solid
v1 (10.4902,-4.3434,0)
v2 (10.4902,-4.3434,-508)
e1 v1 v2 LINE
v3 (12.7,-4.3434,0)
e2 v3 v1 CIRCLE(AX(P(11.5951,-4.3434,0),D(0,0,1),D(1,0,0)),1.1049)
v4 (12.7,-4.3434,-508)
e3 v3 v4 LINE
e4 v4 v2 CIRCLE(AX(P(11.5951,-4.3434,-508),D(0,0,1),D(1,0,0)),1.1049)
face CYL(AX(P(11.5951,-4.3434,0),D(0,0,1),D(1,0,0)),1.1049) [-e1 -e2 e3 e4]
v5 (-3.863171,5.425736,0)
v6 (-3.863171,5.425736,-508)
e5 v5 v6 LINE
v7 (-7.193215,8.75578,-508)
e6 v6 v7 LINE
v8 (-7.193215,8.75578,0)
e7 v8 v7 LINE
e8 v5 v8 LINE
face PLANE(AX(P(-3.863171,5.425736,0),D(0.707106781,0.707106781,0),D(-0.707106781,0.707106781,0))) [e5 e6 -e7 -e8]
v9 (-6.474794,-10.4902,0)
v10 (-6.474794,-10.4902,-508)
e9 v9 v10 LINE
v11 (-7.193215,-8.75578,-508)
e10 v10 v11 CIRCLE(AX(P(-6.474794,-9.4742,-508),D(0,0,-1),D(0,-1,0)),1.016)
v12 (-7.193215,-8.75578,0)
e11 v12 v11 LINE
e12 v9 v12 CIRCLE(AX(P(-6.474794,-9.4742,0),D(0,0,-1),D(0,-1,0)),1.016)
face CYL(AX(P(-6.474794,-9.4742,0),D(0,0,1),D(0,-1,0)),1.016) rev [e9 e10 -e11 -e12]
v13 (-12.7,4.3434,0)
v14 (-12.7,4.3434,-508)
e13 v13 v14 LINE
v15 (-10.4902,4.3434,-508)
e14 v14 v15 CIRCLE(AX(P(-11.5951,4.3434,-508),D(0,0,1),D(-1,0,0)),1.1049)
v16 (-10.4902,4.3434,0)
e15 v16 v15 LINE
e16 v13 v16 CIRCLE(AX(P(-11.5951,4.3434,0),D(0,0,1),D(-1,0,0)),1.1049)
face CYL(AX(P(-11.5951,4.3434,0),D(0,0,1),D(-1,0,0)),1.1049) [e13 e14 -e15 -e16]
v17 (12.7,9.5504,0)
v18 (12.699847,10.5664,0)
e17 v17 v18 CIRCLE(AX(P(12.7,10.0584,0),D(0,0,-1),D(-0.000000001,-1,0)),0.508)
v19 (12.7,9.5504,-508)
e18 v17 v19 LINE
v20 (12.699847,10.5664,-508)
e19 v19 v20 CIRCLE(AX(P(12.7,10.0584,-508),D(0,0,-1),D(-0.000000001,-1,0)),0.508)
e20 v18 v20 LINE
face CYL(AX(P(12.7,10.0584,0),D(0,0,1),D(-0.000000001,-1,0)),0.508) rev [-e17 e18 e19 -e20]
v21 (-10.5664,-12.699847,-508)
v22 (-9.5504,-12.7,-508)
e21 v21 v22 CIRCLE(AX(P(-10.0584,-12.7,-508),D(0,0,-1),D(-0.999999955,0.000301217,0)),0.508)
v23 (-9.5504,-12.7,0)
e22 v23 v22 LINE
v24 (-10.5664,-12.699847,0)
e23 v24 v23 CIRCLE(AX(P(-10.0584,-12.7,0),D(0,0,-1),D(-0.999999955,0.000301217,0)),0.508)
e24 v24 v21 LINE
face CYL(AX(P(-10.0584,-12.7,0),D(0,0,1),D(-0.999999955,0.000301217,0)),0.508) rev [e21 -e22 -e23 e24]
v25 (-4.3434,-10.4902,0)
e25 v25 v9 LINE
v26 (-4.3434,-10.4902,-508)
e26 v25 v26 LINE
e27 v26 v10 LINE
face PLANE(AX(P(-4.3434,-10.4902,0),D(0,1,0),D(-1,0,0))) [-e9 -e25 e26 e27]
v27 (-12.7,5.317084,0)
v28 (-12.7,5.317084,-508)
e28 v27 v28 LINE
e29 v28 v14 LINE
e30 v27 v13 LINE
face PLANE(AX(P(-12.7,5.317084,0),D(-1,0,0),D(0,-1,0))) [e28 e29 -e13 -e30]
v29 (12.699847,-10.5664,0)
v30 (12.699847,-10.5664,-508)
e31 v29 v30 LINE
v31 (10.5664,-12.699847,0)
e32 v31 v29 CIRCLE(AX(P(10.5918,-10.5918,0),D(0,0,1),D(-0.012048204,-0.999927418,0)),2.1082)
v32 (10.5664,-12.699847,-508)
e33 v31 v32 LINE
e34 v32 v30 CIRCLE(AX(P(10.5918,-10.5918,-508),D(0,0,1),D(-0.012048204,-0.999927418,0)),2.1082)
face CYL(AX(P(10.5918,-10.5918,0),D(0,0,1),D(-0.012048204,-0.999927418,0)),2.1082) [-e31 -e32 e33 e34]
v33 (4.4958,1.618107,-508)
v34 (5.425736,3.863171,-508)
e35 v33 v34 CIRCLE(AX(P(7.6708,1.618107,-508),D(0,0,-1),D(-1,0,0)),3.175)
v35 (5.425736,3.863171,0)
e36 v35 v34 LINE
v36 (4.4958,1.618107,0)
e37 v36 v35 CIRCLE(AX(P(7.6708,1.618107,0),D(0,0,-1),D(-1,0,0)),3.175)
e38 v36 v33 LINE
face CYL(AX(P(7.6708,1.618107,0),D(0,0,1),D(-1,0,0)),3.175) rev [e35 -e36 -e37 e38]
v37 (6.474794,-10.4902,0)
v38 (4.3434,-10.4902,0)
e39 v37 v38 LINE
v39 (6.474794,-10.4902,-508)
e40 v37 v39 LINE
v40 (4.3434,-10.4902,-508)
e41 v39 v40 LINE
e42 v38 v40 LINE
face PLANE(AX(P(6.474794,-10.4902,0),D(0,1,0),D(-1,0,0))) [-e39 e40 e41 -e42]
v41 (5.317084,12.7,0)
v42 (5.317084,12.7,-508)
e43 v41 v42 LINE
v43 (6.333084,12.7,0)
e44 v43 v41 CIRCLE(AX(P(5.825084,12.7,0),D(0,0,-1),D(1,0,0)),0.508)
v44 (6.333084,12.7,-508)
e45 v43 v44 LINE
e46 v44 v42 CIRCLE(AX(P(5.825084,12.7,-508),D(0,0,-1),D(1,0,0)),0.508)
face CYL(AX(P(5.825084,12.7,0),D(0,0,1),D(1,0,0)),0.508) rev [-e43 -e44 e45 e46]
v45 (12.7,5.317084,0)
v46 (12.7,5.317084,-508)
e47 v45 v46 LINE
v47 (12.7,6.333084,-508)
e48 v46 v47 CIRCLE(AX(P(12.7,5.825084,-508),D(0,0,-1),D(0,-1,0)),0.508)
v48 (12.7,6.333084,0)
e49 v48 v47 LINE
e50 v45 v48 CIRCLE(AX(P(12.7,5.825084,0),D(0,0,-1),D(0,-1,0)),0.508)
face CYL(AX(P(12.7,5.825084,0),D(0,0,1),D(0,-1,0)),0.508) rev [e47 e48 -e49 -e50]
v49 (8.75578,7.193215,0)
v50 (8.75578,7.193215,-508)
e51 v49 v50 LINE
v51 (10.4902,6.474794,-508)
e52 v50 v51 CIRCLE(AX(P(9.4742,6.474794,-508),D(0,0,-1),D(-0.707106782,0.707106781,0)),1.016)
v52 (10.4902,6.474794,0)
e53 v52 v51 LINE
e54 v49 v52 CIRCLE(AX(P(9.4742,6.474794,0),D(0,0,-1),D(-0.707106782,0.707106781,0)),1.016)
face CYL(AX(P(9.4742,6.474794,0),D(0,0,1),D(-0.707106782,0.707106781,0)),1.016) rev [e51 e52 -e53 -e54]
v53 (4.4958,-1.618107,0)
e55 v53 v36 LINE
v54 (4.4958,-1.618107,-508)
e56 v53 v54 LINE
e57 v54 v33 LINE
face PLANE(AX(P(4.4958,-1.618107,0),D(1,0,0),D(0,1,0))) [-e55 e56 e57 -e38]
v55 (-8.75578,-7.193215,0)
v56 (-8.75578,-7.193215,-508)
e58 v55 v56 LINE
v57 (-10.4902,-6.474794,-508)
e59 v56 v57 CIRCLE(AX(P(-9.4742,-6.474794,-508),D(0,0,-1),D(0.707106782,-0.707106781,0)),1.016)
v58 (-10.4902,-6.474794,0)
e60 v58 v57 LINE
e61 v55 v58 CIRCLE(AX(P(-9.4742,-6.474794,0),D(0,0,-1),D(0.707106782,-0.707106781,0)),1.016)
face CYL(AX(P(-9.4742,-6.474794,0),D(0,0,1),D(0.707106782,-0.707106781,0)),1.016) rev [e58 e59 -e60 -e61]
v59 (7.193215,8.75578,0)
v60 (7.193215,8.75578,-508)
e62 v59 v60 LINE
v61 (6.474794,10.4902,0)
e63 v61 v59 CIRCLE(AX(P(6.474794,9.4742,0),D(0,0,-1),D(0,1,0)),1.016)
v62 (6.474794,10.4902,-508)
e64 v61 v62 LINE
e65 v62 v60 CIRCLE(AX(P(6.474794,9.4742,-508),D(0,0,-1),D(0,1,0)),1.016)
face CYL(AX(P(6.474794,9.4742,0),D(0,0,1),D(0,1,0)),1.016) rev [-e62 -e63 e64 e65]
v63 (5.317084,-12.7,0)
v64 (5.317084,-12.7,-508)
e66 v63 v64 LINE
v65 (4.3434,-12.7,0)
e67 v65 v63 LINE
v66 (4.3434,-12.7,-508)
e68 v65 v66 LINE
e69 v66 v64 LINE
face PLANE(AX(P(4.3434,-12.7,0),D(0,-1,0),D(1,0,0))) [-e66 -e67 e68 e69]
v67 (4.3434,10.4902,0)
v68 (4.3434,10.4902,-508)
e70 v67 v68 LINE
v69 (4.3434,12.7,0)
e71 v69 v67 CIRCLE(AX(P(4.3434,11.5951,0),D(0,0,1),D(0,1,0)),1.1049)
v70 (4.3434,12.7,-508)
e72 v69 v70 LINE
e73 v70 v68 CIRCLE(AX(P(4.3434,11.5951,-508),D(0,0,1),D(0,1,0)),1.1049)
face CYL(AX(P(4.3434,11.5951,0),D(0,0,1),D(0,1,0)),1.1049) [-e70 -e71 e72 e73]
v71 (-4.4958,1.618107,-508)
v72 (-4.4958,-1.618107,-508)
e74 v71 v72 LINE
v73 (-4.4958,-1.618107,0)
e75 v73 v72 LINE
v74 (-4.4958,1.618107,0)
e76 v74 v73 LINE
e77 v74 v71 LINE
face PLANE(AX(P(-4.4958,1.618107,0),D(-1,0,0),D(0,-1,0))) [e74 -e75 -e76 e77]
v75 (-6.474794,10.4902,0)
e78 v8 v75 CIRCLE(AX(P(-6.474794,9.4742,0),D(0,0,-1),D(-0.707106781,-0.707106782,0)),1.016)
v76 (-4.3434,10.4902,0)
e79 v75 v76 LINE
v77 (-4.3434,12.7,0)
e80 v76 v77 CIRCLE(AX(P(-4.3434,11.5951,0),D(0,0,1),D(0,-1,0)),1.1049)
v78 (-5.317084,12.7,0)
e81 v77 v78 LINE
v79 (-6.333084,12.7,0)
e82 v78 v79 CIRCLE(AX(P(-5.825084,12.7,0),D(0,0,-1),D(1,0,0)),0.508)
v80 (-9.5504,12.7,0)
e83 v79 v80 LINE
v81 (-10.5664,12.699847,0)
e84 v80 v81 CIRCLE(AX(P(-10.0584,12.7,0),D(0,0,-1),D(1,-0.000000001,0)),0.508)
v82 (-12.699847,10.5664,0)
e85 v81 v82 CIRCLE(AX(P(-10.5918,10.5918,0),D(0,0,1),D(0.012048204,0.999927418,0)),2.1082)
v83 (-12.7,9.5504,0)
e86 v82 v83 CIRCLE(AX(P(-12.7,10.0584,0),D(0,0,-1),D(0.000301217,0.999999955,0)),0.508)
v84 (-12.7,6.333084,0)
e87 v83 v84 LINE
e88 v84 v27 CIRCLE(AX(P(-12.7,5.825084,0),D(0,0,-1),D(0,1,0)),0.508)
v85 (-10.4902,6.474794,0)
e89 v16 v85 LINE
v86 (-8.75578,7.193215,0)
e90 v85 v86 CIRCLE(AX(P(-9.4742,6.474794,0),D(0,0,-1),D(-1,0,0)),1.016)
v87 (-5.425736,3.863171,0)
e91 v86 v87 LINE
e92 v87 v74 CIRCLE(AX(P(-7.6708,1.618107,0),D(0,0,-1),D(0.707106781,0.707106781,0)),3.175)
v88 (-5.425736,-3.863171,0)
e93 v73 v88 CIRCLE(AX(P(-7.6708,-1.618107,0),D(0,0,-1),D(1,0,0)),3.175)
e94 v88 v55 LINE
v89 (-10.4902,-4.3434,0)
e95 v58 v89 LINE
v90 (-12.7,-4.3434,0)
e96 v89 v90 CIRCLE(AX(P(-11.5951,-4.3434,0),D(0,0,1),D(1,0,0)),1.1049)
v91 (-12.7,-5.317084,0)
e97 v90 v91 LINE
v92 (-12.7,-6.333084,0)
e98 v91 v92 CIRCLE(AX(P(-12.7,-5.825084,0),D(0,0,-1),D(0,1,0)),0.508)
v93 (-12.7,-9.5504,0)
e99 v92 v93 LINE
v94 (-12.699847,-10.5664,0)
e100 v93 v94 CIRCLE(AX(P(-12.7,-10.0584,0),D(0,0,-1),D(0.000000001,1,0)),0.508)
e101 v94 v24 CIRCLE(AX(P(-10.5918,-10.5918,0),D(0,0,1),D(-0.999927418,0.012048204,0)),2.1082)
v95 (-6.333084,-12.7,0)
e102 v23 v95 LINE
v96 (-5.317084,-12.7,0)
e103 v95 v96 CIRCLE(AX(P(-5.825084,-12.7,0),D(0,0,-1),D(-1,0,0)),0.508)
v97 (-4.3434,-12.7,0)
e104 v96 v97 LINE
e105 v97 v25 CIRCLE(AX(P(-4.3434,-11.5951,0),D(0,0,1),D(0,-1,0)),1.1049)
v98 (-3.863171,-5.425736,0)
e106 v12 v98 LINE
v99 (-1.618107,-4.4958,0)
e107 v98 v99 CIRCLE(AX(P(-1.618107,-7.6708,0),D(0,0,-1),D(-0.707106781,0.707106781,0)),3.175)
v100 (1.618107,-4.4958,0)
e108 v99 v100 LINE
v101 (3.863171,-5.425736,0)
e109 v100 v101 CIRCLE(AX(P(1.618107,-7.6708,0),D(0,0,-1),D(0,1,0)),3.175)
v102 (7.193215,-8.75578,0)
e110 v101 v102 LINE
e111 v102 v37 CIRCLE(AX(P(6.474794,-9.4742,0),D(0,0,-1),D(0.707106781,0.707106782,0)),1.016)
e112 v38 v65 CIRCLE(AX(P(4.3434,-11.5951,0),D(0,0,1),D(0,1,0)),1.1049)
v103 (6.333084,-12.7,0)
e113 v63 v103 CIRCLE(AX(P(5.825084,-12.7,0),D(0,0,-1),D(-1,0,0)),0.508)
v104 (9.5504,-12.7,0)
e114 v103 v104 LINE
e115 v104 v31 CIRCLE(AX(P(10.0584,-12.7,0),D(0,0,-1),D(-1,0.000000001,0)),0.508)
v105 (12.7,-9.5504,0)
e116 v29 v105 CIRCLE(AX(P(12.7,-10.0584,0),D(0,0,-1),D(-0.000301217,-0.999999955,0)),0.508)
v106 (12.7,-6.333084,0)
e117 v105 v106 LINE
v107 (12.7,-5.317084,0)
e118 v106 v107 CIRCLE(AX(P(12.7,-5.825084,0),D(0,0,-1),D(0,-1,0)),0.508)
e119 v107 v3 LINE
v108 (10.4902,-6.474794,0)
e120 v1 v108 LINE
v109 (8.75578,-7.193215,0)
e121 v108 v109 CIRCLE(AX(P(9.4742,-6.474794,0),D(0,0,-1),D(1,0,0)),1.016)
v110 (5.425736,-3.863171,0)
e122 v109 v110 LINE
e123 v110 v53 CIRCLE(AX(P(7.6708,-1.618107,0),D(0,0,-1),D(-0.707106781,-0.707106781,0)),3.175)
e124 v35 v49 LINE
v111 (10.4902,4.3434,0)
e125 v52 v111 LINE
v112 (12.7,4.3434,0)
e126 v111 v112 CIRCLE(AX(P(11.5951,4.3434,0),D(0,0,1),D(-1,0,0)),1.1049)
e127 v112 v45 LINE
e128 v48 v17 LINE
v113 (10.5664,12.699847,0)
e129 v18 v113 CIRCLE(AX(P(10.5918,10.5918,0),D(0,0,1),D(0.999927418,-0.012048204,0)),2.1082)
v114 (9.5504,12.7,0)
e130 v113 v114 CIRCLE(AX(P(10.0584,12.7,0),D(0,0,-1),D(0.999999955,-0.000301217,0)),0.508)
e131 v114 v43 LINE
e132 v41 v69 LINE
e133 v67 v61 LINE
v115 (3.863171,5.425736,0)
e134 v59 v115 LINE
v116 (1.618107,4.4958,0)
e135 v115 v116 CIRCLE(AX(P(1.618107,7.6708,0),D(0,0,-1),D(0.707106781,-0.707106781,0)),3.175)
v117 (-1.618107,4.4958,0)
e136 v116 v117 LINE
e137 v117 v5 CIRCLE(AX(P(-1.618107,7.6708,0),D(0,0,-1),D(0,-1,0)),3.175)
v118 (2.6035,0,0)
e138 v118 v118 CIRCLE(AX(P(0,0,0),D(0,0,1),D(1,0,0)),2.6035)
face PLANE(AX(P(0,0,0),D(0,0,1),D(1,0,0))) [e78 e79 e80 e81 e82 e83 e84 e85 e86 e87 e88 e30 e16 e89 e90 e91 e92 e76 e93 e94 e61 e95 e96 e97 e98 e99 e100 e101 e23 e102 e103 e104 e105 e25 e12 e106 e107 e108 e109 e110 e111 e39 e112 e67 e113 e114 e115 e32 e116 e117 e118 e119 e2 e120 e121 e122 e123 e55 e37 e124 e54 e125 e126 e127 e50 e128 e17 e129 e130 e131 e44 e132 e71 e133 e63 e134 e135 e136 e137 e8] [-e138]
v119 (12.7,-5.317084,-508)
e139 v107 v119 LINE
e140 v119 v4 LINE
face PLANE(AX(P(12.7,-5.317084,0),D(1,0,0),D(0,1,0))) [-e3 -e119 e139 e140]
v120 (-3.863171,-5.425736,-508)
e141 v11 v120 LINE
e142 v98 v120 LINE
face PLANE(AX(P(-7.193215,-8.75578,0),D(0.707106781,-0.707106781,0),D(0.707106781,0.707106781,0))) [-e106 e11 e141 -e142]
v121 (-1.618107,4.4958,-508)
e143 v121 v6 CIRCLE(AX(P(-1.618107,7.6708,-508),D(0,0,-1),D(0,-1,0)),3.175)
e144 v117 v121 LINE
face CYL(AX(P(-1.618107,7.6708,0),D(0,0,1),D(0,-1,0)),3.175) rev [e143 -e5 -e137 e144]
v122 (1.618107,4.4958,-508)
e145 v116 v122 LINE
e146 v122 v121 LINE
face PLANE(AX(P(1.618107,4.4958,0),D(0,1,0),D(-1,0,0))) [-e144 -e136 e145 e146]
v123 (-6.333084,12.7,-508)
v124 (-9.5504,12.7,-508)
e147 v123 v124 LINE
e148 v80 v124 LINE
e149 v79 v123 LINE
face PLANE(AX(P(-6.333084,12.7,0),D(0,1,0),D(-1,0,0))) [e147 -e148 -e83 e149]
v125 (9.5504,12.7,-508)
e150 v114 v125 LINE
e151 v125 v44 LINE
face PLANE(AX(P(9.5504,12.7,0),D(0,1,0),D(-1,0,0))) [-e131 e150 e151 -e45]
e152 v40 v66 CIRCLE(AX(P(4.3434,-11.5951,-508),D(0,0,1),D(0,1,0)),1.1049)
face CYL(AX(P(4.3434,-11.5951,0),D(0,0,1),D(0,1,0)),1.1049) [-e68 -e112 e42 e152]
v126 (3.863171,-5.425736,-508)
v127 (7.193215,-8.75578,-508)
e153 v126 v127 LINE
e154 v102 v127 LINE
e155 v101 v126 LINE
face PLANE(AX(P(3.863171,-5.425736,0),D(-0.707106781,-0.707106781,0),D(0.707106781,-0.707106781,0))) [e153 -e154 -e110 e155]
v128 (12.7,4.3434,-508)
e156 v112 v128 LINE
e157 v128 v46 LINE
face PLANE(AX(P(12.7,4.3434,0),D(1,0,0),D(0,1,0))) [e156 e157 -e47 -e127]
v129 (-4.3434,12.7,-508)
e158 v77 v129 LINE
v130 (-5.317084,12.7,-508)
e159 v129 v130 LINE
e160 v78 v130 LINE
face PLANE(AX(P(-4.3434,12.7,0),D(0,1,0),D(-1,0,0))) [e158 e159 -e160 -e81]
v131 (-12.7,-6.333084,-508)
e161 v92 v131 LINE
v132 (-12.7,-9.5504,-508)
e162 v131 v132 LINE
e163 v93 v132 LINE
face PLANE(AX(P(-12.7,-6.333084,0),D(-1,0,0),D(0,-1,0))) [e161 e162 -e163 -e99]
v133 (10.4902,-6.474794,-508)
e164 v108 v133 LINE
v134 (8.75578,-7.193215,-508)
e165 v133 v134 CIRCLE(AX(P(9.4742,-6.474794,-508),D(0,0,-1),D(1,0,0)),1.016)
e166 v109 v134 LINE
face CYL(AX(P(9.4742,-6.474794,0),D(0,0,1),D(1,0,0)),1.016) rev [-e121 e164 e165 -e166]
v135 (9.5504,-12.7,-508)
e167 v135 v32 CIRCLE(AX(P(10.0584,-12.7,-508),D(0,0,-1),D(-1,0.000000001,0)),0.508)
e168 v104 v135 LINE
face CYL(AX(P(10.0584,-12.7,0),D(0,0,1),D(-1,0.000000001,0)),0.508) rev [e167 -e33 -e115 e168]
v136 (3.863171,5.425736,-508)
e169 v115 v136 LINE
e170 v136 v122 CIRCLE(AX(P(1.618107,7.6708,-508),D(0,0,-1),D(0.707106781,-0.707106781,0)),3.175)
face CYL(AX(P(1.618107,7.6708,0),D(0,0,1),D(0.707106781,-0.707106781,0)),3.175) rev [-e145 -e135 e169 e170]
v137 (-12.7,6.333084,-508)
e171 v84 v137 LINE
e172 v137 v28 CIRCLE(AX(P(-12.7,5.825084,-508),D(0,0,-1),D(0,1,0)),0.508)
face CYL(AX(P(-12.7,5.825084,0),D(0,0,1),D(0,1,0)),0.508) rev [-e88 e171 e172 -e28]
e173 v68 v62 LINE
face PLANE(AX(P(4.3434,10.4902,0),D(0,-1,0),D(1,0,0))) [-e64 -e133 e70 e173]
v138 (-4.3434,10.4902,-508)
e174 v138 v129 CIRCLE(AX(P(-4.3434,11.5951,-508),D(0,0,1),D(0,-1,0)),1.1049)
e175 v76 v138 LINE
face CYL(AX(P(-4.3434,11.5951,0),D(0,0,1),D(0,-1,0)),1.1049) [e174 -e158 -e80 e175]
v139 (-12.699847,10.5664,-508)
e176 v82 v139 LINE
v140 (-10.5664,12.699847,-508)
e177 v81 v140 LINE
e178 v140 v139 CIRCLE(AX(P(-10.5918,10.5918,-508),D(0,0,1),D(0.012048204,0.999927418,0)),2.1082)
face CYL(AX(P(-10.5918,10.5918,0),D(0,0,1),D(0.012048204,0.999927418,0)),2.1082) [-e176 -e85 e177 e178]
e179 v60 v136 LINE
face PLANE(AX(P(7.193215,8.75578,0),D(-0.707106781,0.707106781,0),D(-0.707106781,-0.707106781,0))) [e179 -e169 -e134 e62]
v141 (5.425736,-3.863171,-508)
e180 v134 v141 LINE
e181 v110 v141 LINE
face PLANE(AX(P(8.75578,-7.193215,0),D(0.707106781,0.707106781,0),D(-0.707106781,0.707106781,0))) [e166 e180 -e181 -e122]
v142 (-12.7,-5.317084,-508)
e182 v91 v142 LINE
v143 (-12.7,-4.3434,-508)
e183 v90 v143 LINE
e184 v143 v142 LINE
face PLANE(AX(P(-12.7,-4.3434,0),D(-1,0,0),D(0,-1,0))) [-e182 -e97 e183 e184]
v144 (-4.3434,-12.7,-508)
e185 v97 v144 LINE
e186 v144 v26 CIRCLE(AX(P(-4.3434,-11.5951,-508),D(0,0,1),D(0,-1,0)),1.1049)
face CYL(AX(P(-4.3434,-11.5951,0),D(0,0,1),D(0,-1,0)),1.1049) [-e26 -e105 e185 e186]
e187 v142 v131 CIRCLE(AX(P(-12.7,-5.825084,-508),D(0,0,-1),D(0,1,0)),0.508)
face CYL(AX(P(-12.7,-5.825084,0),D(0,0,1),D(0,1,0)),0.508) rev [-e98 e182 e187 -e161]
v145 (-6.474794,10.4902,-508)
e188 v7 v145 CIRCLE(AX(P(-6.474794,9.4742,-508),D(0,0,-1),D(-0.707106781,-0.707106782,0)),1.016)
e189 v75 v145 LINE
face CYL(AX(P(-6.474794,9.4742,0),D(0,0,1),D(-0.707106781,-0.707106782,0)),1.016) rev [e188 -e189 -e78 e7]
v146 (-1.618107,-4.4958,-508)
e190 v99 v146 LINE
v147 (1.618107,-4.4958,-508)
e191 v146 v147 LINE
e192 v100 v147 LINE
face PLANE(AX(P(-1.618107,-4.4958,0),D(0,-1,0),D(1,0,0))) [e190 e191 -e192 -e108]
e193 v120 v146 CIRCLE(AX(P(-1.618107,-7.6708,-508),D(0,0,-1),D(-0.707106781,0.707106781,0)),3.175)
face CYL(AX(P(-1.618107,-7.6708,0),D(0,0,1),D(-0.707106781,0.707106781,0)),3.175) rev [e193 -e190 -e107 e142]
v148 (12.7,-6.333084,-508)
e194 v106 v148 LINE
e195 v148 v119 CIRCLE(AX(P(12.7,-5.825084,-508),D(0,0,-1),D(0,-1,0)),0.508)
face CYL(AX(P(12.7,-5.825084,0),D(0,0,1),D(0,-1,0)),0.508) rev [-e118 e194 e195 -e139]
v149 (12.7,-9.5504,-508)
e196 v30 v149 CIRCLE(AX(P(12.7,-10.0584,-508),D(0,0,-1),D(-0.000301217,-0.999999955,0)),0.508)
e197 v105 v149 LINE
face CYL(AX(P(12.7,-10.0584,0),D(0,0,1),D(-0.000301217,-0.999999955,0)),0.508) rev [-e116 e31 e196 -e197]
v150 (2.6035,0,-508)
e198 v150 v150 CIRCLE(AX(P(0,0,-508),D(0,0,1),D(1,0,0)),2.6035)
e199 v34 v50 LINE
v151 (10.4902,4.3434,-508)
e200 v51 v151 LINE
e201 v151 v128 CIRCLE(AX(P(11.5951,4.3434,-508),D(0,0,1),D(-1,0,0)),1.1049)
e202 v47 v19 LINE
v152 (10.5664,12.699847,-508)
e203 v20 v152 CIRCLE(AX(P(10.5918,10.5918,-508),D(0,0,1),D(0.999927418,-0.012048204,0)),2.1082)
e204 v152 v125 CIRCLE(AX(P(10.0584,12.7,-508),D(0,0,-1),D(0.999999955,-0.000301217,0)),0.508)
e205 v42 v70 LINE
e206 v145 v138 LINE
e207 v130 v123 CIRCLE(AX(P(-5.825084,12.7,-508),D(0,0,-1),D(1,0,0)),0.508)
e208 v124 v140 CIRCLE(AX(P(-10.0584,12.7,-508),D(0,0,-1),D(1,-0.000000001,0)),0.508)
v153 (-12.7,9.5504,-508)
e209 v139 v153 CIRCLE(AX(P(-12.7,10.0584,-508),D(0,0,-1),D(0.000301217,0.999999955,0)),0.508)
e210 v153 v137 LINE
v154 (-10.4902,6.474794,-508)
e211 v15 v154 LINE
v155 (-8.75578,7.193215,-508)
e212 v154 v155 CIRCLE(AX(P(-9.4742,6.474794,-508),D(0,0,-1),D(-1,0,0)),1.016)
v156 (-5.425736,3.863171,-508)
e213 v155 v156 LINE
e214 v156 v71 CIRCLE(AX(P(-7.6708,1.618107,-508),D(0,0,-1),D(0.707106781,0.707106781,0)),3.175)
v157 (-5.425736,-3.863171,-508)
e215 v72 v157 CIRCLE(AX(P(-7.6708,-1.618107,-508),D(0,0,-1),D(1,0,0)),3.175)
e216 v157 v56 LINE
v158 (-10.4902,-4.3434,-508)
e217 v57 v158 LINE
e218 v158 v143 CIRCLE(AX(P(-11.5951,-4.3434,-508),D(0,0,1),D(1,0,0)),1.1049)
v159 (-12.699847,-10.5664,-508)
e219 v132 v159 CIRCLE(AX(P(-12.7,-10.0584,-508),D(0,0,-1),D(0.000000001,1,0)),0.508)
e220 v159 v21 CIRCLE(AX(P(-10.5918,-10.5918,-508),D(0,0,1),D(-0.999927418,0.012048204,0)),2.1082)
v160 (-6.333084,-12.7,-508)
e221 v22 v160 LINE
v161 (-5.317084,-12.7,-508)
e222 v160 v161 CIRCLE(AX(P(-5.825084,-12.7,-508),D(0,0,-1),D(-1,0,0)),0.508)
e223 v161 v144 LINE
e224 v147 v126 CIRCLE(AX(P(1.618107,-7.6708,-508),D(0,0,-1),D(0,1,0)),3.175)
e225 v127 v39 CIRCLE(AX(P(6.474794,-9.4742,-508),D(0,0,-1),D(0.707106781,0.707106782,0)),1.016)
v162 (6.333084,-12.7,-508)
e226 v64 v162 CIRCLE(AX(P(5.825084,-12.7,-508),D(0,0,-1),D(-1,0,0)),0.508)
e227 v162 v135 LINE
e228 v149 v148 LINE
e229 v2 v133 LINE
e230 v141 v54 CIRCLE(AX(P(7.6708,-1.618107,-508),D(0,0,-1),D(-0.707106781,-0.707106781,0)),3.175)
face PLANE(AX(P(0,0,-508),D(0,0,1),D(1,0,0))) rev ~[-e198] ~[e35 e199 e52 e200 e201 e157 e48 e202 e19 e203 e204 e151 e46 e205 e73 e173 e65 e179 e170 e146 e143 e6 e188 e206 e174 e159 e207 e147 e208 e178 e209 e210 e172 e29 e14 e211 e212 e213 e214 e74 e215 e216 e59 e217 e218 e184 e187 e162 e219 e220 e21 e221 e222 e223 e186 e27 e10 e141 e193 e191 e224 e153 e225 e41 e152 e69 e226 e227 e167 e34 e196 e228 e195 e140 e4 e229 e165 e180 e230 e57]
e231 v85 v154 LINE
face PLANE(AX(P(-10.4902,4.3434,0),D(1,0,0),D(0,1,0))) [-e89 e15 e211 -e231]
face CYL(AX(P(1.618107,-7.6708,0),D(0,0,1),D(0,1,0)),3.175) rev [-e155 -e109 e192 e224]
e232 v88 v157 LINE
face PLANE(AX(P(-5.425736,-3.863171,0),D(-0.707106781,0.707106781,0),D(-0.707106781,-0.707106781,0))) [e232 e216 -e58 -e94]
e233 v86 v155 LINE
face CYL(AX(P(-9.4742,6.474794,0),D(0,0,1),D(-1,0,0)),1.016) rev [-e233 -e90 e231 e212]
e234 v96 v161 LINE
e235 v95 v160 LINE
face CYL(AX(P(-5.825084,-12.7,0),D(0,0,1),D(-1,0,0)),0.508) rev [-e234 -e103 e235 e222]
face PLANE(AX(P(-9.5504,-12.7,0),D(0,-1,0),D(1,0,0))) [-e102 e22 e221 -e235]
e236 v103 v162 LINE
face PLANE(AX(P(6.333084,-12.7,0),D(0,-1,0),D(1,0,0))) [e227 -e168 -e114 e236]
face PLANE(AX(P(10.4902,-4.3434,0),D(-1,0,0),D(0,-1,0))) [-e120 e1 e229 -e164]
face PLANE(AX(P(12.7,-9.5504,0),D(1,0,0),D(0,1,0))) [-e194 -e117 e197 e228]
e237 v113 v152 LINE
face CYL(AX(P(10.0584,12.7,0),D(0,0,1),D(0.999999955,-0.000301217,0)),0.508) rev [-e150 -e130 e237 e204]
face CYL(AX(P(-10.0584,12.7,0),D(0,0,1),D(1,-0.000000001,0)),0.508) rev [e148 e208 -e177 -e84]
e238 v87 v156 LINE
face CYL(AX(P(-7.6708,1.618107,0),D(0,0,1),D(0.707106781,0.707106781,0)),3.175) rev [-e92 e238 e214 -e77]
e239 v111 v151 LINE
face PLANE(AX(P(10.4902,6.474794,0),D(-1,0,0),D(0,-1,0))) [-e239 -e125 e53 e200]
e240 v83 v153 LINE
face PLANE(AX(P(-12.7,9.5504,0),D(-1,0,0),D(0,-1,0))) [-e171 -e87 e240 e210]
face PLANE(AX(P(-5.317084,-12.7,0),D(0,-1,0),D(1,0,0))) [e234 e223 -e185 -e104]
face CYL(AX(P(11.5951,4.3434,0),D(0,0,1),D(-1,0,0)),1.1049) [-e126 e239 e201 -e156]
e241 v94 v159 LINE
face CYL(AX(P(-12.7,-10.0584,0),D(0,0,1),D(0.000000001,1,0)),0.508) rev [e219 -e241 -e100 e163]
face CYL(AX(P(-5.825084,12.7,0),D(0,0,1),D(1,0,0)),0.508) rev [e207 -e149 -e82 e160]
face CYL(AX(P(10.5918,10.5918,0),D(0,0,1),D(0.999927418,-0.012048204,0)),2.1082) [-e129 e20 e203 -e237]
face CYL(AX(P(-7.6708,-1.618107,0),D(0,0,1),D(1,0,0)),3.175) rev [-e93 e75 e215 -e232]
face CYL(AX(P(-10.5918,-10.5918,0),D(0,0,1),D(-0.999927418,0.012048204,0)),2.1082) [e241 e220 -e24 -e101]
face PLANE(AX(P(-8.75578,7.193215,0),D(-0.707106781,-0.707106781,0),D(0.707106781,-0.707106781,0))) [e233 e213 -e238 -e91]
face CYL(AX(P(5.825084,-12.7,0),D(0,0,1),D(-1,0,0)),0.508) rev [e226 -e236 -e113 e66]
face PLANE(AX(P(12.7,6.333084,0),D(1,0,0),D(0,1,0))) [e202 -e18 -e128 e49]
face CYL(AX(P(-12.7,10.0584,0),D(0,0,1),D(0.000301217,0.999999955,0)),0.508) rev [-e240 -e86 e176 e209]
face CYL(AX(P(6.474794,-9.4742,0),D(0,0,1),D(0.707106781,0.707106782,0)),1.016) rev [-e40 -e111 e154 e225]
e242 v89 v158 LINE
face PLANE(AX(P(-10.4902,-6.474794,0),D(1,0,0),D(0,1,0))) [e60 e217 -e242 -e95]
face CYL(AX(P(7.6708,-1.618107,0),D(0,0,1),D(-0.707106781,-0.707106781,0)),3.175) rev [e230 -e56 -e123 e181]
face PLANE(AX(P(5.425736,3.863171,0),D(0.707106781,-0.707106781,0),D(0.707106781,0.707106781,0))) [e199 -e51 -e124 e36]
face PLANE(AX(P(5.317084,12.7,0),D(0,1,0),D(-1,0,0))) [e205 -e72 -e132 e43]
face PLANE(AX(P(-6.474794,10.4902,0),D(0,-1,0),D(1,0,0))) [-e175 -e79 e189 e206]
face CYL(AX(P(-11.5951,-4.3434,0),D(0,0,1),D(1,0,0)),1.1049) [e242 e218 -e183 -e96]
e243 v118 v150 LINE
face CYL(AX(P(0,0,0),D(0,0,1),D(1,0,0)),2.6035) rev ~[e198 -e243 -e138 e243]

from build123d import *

# Parameters (mm, degrees)
SKETCH1_R           = 2.6035
BOSS_EXTRUDE1_DEPTH = 508


with BuildPart() as part:
    # Sketch1 → Boss-Extrude1 (new body)
    with BuildSketch(Plane.XY):
        with BuildLine():
            Line((-12.7, -6.3330836), (-12.7, -9.5504))
            ThreePointArc((-12.7, -9.5504), (-12.192000006, -10.058323491), (-12.699846982, -10.566399977))
            ThreePointArc((-12.699846982, -10.566399977), (-12.082522516, -12.082522516), (-10.566399977, -12.699846982))
            ThreePointArc((-10.566399977, -12.699846982), (-10.058323491, -12.192000006), (-9.5504, -12.7))
            Line((-9.5504, -12.7), (-6.3330836, -12.7))
            ThreePointArc((-6.3330836, -12.7), (-5.8250836, -12.192), (-5.3170836, -12.7))
            Line((-5.3170836, -12.7), (-4.343399971, -12.7))
            ThreePointArc((-4.343399971, -12.7), (-3.238499971, -11.5951), (-4.343399971, -10.4902))
            Line((-4.343399971, -10.4902), (-6.474794456, -10.4902))
            ThreePointArc((-6.474794456, -10.4902), (-7.413456061, -9.863006367), (-7.193214945, -8.75577951))
            Line((-7.193214945, -8.75577951), (-3.863171405, -5.42573597))
            ThreePointArc((-3.863171405, -5.42573597), (-2.833127272, -4.737482484), (-1.618107374, -4.4958))
            Line((-1.618107374, -4.4958), (1.618107374, -4.4958))
            ThreePointArc((1.618107374, -4.4958), (2.833127272, -4.737482484), (3.863171405, -5.42573597))
            Line((3.863171405, -5.42573597), (7.193214945, -8.75577951))
            ThreePointArc((7.193214945, -8.75577951), (7.413456061, -9.863006367), (6.474794456, -10.4902))
            Line((6.474794456, -10.4902), (4.3434, -10.4902))
            ThreePointArc((4.3434, -10.4902), (3.2385, -11.5951), (4.3434, -12.7))
            Line((4.3434, -12.7), (5.3170836, -12.7))
            ThreePointArc((5.3170836, -12.7), (5.8250836, -12.192), (6.3330836, -12.7))
            Line((6.3330836, -12.7), (9.5504, -12.7))
            ThreePointArc((9.5504, -12.7), (10.058323491, -12.192000006), (10.566399977, -12.699846982))
            ThreePointArc((10.566399977, -12.699846982), (12.082522516, -12.082522516), (12.699846982, -10.566399977))
            ThreePointArc((12.699846982, -10.566399977), (12.192000006, -10.058323491), (12.7, -9.5504))
            Line((12.7, -9.5504), (12.7, -6.3330836))
            ThreePointArc((12.7, -6.3330836), (12.192, -5.8250836), (12.7, -5.3170836))
            Line((12.7, -5.3170836), (12.7, -4.343399971))
            ThreePointArc((12.7, -4.343399971), (11.5951, -3.238499971), (10.4902, -4.343399971))
            Line((10.4902, -4.343399971), (10.4902, -6.474794456))
            ThreePointArc((10.4902, -6.474794456), (9.863006367, -7.413456061), (8.75577951, -7.193214945))
            Line((8.75577951, -7.193214945), (5.42573597, -3.863171405))
            ThreePointArc((5.42573597, -3.863171405), (4.737482484, -2.833127272), (4.4958, -1.618107374))
            Line((4.4958, -1.618107374), (4.4958, 1.618107374))
            ThreePointArc((4.4958, 1.618107374), (4.737482484, 2.833127272), (5.42573597, 3.863171405))
            Line((5.42573597, 3.863171405), (8.75577951, 7.193214945))
            ThreePointArc((8.75577951, 7.193214945), (9.863006367, 7.413456061), (10.4902, 6.474794456))
            Line((10.4902, 6.474794456), (10.4902, 4.3434))
            ThreePointArc((10.4902, 4.3434), (11.5951, 3.2385), (12.7, 4.3434))
            Line((12.7, 4.3434), (12.7, 5.3170836))
            ThreePointArc((12.7, 5.3170836), (12.192, 5.8250836), (12.7, 6.3330836))
            Line((12.7, 6.3330836), (12.7, 9.5504))
            ThreePointArc((12.7, 9.5504), (12.192000006, 10.058323491), (12.699846982, 10.566399977))
            ThreePointArc((12.699846982, 10.566399977), (12.082522516, 12.082522516), (10.566399977, 12.699846982))
            ThreePointArc((10.566399977, 12.699846982), (10.058323491, 12.192000006), (9.5504, 12.7))
            Line((9.5504, 12.7), (6.3330836, 12.7))
            ThreePointArc((6.3330836, 12.7), (5.8250836, 12.192), (5.3170836, 12.7))
            Line((5.3170836, 12.7), (4.343399971, 12.7))
            ThreePointArc((4.343399971, 12.7), (3.238499971, 11.5951), (4.343399971, 10.4902))
            Line((4.343399971, 10.4902), (6.474794456, 10.4902))
            ThreePointArc((6.474794456, 10.4902), (7.413456061, 9.863006367), (7.193214945, 8.75577951))
            Line((7.193214945, 8.75577951), (3.863171405, 5.42573597))
            ThreePointArc((3.863171405, 5.42573597), (2.833127272, 4.737482484), (1.618107374, 4.4958))
            Line((1.618107374, 4.4958), (-1.618107374, 4.4958))
            ThreePointArc((-1.618107374, 4.4958), (-2.833127272, 4.737482484), (-3.863171405, 5.42573597))
            Line((-3.863171405, 5.42573597), (-7.193214945, 8.75577951))
            ThreePointArc((-7.193214945, 8.75577951), (-7.413456061, 9.863006367), (-6.474794456, 10.4902))
            Line((-6.474794456, 10.4902), (-4.3434, 10.4902))
            ThreePointArc((-4.3434, 10.4902), (-3.2385, 11.5951), (-4.3434, 12.7))
            Line((-4.3434, 12.7), (-5.3170836, 12.7))
            ThreePointArc((-5.3170836, 12.7), (-5.8250836, 12.192), (-6.3330836, 12.7))
            Line((-6.3330836, 12.7), (-9.5504, 12.7))
            ThreePointArc((-9.5504, 12.7), (-10.058323491, 12.192000006), (-10.566399977, 12.699846982))
            ThreePointArc((-10.566399977, 12.699846982), (-12.082522516, 12.082522516), (-12.699846982, 10.566399977))
            ThreePointArc((-12.699846982, 10.566399977), (-12.192000006, 10.058323491), (-12.7, 9.5504))
            Line((-12.7, 9.5504), (-12.7, 6.3330836))
            ThreePointArc((-12.7, 6.3330836), (-12.192, 5.8250836), (-12.7, 5.3170836))
            Line((-12.7, 5.3170836), (-12.7, 4.343399971))
            ThreePointArc((-12.7, 4.343399971), (-11.5951, 3.238499971), (-10.4902, 4.343399971))
            Line((-10.4902, 4.343399971), (-10.4902, 6.474794456))
            ThreePointArc((-10.4902, 6.474794456), (-9.863006367, 7.413456061), (-8.75577951, 7.193214945))
            Line((-8.75577951, 7.193214945), (-5.42573597, 3.863171405))
            ThreePointArc((-5.42573597, 3.863171405), (-4.737482484, 2.833127272), (-4.4958, 1.618107374))
            Line((-4.4958, 1.618107374), (-4.4958, -1.618107374))
            ThreePointArc((-4.4958, -1.618107374), (-4.737482484, -2.833127272), (-5.42573597, -3.863171405))
            Line((-5.42573597, -3.863171405), (-8.75577951, -7.193214945))
            ThreePointArc((-8.75577951, -7.193214945), (-9.863006367, -7.413456061), (-10.4902, -6.474794456))
            Line((-10.4902, -6.474794456), (-10.4902, -4.3434))
            ThreePointArc((-10.4902, -4.3434), (-11.5951, -3.2385), (-12.7, -4.3434))
            Line((-12.7, -4.3434), (-12.7, -5.3170836))
            ThreePointArc((-12.7, -5.3170836), (-12.192, -5.8250836), (-12.7, -6.3330836))
        make_face()
        Circle(SKETCH1_R, mode=Mode.SUBTRACT)
    extrude(amount=-BOSS_EXTRUDE1_DEPTH)


solid = part.part
